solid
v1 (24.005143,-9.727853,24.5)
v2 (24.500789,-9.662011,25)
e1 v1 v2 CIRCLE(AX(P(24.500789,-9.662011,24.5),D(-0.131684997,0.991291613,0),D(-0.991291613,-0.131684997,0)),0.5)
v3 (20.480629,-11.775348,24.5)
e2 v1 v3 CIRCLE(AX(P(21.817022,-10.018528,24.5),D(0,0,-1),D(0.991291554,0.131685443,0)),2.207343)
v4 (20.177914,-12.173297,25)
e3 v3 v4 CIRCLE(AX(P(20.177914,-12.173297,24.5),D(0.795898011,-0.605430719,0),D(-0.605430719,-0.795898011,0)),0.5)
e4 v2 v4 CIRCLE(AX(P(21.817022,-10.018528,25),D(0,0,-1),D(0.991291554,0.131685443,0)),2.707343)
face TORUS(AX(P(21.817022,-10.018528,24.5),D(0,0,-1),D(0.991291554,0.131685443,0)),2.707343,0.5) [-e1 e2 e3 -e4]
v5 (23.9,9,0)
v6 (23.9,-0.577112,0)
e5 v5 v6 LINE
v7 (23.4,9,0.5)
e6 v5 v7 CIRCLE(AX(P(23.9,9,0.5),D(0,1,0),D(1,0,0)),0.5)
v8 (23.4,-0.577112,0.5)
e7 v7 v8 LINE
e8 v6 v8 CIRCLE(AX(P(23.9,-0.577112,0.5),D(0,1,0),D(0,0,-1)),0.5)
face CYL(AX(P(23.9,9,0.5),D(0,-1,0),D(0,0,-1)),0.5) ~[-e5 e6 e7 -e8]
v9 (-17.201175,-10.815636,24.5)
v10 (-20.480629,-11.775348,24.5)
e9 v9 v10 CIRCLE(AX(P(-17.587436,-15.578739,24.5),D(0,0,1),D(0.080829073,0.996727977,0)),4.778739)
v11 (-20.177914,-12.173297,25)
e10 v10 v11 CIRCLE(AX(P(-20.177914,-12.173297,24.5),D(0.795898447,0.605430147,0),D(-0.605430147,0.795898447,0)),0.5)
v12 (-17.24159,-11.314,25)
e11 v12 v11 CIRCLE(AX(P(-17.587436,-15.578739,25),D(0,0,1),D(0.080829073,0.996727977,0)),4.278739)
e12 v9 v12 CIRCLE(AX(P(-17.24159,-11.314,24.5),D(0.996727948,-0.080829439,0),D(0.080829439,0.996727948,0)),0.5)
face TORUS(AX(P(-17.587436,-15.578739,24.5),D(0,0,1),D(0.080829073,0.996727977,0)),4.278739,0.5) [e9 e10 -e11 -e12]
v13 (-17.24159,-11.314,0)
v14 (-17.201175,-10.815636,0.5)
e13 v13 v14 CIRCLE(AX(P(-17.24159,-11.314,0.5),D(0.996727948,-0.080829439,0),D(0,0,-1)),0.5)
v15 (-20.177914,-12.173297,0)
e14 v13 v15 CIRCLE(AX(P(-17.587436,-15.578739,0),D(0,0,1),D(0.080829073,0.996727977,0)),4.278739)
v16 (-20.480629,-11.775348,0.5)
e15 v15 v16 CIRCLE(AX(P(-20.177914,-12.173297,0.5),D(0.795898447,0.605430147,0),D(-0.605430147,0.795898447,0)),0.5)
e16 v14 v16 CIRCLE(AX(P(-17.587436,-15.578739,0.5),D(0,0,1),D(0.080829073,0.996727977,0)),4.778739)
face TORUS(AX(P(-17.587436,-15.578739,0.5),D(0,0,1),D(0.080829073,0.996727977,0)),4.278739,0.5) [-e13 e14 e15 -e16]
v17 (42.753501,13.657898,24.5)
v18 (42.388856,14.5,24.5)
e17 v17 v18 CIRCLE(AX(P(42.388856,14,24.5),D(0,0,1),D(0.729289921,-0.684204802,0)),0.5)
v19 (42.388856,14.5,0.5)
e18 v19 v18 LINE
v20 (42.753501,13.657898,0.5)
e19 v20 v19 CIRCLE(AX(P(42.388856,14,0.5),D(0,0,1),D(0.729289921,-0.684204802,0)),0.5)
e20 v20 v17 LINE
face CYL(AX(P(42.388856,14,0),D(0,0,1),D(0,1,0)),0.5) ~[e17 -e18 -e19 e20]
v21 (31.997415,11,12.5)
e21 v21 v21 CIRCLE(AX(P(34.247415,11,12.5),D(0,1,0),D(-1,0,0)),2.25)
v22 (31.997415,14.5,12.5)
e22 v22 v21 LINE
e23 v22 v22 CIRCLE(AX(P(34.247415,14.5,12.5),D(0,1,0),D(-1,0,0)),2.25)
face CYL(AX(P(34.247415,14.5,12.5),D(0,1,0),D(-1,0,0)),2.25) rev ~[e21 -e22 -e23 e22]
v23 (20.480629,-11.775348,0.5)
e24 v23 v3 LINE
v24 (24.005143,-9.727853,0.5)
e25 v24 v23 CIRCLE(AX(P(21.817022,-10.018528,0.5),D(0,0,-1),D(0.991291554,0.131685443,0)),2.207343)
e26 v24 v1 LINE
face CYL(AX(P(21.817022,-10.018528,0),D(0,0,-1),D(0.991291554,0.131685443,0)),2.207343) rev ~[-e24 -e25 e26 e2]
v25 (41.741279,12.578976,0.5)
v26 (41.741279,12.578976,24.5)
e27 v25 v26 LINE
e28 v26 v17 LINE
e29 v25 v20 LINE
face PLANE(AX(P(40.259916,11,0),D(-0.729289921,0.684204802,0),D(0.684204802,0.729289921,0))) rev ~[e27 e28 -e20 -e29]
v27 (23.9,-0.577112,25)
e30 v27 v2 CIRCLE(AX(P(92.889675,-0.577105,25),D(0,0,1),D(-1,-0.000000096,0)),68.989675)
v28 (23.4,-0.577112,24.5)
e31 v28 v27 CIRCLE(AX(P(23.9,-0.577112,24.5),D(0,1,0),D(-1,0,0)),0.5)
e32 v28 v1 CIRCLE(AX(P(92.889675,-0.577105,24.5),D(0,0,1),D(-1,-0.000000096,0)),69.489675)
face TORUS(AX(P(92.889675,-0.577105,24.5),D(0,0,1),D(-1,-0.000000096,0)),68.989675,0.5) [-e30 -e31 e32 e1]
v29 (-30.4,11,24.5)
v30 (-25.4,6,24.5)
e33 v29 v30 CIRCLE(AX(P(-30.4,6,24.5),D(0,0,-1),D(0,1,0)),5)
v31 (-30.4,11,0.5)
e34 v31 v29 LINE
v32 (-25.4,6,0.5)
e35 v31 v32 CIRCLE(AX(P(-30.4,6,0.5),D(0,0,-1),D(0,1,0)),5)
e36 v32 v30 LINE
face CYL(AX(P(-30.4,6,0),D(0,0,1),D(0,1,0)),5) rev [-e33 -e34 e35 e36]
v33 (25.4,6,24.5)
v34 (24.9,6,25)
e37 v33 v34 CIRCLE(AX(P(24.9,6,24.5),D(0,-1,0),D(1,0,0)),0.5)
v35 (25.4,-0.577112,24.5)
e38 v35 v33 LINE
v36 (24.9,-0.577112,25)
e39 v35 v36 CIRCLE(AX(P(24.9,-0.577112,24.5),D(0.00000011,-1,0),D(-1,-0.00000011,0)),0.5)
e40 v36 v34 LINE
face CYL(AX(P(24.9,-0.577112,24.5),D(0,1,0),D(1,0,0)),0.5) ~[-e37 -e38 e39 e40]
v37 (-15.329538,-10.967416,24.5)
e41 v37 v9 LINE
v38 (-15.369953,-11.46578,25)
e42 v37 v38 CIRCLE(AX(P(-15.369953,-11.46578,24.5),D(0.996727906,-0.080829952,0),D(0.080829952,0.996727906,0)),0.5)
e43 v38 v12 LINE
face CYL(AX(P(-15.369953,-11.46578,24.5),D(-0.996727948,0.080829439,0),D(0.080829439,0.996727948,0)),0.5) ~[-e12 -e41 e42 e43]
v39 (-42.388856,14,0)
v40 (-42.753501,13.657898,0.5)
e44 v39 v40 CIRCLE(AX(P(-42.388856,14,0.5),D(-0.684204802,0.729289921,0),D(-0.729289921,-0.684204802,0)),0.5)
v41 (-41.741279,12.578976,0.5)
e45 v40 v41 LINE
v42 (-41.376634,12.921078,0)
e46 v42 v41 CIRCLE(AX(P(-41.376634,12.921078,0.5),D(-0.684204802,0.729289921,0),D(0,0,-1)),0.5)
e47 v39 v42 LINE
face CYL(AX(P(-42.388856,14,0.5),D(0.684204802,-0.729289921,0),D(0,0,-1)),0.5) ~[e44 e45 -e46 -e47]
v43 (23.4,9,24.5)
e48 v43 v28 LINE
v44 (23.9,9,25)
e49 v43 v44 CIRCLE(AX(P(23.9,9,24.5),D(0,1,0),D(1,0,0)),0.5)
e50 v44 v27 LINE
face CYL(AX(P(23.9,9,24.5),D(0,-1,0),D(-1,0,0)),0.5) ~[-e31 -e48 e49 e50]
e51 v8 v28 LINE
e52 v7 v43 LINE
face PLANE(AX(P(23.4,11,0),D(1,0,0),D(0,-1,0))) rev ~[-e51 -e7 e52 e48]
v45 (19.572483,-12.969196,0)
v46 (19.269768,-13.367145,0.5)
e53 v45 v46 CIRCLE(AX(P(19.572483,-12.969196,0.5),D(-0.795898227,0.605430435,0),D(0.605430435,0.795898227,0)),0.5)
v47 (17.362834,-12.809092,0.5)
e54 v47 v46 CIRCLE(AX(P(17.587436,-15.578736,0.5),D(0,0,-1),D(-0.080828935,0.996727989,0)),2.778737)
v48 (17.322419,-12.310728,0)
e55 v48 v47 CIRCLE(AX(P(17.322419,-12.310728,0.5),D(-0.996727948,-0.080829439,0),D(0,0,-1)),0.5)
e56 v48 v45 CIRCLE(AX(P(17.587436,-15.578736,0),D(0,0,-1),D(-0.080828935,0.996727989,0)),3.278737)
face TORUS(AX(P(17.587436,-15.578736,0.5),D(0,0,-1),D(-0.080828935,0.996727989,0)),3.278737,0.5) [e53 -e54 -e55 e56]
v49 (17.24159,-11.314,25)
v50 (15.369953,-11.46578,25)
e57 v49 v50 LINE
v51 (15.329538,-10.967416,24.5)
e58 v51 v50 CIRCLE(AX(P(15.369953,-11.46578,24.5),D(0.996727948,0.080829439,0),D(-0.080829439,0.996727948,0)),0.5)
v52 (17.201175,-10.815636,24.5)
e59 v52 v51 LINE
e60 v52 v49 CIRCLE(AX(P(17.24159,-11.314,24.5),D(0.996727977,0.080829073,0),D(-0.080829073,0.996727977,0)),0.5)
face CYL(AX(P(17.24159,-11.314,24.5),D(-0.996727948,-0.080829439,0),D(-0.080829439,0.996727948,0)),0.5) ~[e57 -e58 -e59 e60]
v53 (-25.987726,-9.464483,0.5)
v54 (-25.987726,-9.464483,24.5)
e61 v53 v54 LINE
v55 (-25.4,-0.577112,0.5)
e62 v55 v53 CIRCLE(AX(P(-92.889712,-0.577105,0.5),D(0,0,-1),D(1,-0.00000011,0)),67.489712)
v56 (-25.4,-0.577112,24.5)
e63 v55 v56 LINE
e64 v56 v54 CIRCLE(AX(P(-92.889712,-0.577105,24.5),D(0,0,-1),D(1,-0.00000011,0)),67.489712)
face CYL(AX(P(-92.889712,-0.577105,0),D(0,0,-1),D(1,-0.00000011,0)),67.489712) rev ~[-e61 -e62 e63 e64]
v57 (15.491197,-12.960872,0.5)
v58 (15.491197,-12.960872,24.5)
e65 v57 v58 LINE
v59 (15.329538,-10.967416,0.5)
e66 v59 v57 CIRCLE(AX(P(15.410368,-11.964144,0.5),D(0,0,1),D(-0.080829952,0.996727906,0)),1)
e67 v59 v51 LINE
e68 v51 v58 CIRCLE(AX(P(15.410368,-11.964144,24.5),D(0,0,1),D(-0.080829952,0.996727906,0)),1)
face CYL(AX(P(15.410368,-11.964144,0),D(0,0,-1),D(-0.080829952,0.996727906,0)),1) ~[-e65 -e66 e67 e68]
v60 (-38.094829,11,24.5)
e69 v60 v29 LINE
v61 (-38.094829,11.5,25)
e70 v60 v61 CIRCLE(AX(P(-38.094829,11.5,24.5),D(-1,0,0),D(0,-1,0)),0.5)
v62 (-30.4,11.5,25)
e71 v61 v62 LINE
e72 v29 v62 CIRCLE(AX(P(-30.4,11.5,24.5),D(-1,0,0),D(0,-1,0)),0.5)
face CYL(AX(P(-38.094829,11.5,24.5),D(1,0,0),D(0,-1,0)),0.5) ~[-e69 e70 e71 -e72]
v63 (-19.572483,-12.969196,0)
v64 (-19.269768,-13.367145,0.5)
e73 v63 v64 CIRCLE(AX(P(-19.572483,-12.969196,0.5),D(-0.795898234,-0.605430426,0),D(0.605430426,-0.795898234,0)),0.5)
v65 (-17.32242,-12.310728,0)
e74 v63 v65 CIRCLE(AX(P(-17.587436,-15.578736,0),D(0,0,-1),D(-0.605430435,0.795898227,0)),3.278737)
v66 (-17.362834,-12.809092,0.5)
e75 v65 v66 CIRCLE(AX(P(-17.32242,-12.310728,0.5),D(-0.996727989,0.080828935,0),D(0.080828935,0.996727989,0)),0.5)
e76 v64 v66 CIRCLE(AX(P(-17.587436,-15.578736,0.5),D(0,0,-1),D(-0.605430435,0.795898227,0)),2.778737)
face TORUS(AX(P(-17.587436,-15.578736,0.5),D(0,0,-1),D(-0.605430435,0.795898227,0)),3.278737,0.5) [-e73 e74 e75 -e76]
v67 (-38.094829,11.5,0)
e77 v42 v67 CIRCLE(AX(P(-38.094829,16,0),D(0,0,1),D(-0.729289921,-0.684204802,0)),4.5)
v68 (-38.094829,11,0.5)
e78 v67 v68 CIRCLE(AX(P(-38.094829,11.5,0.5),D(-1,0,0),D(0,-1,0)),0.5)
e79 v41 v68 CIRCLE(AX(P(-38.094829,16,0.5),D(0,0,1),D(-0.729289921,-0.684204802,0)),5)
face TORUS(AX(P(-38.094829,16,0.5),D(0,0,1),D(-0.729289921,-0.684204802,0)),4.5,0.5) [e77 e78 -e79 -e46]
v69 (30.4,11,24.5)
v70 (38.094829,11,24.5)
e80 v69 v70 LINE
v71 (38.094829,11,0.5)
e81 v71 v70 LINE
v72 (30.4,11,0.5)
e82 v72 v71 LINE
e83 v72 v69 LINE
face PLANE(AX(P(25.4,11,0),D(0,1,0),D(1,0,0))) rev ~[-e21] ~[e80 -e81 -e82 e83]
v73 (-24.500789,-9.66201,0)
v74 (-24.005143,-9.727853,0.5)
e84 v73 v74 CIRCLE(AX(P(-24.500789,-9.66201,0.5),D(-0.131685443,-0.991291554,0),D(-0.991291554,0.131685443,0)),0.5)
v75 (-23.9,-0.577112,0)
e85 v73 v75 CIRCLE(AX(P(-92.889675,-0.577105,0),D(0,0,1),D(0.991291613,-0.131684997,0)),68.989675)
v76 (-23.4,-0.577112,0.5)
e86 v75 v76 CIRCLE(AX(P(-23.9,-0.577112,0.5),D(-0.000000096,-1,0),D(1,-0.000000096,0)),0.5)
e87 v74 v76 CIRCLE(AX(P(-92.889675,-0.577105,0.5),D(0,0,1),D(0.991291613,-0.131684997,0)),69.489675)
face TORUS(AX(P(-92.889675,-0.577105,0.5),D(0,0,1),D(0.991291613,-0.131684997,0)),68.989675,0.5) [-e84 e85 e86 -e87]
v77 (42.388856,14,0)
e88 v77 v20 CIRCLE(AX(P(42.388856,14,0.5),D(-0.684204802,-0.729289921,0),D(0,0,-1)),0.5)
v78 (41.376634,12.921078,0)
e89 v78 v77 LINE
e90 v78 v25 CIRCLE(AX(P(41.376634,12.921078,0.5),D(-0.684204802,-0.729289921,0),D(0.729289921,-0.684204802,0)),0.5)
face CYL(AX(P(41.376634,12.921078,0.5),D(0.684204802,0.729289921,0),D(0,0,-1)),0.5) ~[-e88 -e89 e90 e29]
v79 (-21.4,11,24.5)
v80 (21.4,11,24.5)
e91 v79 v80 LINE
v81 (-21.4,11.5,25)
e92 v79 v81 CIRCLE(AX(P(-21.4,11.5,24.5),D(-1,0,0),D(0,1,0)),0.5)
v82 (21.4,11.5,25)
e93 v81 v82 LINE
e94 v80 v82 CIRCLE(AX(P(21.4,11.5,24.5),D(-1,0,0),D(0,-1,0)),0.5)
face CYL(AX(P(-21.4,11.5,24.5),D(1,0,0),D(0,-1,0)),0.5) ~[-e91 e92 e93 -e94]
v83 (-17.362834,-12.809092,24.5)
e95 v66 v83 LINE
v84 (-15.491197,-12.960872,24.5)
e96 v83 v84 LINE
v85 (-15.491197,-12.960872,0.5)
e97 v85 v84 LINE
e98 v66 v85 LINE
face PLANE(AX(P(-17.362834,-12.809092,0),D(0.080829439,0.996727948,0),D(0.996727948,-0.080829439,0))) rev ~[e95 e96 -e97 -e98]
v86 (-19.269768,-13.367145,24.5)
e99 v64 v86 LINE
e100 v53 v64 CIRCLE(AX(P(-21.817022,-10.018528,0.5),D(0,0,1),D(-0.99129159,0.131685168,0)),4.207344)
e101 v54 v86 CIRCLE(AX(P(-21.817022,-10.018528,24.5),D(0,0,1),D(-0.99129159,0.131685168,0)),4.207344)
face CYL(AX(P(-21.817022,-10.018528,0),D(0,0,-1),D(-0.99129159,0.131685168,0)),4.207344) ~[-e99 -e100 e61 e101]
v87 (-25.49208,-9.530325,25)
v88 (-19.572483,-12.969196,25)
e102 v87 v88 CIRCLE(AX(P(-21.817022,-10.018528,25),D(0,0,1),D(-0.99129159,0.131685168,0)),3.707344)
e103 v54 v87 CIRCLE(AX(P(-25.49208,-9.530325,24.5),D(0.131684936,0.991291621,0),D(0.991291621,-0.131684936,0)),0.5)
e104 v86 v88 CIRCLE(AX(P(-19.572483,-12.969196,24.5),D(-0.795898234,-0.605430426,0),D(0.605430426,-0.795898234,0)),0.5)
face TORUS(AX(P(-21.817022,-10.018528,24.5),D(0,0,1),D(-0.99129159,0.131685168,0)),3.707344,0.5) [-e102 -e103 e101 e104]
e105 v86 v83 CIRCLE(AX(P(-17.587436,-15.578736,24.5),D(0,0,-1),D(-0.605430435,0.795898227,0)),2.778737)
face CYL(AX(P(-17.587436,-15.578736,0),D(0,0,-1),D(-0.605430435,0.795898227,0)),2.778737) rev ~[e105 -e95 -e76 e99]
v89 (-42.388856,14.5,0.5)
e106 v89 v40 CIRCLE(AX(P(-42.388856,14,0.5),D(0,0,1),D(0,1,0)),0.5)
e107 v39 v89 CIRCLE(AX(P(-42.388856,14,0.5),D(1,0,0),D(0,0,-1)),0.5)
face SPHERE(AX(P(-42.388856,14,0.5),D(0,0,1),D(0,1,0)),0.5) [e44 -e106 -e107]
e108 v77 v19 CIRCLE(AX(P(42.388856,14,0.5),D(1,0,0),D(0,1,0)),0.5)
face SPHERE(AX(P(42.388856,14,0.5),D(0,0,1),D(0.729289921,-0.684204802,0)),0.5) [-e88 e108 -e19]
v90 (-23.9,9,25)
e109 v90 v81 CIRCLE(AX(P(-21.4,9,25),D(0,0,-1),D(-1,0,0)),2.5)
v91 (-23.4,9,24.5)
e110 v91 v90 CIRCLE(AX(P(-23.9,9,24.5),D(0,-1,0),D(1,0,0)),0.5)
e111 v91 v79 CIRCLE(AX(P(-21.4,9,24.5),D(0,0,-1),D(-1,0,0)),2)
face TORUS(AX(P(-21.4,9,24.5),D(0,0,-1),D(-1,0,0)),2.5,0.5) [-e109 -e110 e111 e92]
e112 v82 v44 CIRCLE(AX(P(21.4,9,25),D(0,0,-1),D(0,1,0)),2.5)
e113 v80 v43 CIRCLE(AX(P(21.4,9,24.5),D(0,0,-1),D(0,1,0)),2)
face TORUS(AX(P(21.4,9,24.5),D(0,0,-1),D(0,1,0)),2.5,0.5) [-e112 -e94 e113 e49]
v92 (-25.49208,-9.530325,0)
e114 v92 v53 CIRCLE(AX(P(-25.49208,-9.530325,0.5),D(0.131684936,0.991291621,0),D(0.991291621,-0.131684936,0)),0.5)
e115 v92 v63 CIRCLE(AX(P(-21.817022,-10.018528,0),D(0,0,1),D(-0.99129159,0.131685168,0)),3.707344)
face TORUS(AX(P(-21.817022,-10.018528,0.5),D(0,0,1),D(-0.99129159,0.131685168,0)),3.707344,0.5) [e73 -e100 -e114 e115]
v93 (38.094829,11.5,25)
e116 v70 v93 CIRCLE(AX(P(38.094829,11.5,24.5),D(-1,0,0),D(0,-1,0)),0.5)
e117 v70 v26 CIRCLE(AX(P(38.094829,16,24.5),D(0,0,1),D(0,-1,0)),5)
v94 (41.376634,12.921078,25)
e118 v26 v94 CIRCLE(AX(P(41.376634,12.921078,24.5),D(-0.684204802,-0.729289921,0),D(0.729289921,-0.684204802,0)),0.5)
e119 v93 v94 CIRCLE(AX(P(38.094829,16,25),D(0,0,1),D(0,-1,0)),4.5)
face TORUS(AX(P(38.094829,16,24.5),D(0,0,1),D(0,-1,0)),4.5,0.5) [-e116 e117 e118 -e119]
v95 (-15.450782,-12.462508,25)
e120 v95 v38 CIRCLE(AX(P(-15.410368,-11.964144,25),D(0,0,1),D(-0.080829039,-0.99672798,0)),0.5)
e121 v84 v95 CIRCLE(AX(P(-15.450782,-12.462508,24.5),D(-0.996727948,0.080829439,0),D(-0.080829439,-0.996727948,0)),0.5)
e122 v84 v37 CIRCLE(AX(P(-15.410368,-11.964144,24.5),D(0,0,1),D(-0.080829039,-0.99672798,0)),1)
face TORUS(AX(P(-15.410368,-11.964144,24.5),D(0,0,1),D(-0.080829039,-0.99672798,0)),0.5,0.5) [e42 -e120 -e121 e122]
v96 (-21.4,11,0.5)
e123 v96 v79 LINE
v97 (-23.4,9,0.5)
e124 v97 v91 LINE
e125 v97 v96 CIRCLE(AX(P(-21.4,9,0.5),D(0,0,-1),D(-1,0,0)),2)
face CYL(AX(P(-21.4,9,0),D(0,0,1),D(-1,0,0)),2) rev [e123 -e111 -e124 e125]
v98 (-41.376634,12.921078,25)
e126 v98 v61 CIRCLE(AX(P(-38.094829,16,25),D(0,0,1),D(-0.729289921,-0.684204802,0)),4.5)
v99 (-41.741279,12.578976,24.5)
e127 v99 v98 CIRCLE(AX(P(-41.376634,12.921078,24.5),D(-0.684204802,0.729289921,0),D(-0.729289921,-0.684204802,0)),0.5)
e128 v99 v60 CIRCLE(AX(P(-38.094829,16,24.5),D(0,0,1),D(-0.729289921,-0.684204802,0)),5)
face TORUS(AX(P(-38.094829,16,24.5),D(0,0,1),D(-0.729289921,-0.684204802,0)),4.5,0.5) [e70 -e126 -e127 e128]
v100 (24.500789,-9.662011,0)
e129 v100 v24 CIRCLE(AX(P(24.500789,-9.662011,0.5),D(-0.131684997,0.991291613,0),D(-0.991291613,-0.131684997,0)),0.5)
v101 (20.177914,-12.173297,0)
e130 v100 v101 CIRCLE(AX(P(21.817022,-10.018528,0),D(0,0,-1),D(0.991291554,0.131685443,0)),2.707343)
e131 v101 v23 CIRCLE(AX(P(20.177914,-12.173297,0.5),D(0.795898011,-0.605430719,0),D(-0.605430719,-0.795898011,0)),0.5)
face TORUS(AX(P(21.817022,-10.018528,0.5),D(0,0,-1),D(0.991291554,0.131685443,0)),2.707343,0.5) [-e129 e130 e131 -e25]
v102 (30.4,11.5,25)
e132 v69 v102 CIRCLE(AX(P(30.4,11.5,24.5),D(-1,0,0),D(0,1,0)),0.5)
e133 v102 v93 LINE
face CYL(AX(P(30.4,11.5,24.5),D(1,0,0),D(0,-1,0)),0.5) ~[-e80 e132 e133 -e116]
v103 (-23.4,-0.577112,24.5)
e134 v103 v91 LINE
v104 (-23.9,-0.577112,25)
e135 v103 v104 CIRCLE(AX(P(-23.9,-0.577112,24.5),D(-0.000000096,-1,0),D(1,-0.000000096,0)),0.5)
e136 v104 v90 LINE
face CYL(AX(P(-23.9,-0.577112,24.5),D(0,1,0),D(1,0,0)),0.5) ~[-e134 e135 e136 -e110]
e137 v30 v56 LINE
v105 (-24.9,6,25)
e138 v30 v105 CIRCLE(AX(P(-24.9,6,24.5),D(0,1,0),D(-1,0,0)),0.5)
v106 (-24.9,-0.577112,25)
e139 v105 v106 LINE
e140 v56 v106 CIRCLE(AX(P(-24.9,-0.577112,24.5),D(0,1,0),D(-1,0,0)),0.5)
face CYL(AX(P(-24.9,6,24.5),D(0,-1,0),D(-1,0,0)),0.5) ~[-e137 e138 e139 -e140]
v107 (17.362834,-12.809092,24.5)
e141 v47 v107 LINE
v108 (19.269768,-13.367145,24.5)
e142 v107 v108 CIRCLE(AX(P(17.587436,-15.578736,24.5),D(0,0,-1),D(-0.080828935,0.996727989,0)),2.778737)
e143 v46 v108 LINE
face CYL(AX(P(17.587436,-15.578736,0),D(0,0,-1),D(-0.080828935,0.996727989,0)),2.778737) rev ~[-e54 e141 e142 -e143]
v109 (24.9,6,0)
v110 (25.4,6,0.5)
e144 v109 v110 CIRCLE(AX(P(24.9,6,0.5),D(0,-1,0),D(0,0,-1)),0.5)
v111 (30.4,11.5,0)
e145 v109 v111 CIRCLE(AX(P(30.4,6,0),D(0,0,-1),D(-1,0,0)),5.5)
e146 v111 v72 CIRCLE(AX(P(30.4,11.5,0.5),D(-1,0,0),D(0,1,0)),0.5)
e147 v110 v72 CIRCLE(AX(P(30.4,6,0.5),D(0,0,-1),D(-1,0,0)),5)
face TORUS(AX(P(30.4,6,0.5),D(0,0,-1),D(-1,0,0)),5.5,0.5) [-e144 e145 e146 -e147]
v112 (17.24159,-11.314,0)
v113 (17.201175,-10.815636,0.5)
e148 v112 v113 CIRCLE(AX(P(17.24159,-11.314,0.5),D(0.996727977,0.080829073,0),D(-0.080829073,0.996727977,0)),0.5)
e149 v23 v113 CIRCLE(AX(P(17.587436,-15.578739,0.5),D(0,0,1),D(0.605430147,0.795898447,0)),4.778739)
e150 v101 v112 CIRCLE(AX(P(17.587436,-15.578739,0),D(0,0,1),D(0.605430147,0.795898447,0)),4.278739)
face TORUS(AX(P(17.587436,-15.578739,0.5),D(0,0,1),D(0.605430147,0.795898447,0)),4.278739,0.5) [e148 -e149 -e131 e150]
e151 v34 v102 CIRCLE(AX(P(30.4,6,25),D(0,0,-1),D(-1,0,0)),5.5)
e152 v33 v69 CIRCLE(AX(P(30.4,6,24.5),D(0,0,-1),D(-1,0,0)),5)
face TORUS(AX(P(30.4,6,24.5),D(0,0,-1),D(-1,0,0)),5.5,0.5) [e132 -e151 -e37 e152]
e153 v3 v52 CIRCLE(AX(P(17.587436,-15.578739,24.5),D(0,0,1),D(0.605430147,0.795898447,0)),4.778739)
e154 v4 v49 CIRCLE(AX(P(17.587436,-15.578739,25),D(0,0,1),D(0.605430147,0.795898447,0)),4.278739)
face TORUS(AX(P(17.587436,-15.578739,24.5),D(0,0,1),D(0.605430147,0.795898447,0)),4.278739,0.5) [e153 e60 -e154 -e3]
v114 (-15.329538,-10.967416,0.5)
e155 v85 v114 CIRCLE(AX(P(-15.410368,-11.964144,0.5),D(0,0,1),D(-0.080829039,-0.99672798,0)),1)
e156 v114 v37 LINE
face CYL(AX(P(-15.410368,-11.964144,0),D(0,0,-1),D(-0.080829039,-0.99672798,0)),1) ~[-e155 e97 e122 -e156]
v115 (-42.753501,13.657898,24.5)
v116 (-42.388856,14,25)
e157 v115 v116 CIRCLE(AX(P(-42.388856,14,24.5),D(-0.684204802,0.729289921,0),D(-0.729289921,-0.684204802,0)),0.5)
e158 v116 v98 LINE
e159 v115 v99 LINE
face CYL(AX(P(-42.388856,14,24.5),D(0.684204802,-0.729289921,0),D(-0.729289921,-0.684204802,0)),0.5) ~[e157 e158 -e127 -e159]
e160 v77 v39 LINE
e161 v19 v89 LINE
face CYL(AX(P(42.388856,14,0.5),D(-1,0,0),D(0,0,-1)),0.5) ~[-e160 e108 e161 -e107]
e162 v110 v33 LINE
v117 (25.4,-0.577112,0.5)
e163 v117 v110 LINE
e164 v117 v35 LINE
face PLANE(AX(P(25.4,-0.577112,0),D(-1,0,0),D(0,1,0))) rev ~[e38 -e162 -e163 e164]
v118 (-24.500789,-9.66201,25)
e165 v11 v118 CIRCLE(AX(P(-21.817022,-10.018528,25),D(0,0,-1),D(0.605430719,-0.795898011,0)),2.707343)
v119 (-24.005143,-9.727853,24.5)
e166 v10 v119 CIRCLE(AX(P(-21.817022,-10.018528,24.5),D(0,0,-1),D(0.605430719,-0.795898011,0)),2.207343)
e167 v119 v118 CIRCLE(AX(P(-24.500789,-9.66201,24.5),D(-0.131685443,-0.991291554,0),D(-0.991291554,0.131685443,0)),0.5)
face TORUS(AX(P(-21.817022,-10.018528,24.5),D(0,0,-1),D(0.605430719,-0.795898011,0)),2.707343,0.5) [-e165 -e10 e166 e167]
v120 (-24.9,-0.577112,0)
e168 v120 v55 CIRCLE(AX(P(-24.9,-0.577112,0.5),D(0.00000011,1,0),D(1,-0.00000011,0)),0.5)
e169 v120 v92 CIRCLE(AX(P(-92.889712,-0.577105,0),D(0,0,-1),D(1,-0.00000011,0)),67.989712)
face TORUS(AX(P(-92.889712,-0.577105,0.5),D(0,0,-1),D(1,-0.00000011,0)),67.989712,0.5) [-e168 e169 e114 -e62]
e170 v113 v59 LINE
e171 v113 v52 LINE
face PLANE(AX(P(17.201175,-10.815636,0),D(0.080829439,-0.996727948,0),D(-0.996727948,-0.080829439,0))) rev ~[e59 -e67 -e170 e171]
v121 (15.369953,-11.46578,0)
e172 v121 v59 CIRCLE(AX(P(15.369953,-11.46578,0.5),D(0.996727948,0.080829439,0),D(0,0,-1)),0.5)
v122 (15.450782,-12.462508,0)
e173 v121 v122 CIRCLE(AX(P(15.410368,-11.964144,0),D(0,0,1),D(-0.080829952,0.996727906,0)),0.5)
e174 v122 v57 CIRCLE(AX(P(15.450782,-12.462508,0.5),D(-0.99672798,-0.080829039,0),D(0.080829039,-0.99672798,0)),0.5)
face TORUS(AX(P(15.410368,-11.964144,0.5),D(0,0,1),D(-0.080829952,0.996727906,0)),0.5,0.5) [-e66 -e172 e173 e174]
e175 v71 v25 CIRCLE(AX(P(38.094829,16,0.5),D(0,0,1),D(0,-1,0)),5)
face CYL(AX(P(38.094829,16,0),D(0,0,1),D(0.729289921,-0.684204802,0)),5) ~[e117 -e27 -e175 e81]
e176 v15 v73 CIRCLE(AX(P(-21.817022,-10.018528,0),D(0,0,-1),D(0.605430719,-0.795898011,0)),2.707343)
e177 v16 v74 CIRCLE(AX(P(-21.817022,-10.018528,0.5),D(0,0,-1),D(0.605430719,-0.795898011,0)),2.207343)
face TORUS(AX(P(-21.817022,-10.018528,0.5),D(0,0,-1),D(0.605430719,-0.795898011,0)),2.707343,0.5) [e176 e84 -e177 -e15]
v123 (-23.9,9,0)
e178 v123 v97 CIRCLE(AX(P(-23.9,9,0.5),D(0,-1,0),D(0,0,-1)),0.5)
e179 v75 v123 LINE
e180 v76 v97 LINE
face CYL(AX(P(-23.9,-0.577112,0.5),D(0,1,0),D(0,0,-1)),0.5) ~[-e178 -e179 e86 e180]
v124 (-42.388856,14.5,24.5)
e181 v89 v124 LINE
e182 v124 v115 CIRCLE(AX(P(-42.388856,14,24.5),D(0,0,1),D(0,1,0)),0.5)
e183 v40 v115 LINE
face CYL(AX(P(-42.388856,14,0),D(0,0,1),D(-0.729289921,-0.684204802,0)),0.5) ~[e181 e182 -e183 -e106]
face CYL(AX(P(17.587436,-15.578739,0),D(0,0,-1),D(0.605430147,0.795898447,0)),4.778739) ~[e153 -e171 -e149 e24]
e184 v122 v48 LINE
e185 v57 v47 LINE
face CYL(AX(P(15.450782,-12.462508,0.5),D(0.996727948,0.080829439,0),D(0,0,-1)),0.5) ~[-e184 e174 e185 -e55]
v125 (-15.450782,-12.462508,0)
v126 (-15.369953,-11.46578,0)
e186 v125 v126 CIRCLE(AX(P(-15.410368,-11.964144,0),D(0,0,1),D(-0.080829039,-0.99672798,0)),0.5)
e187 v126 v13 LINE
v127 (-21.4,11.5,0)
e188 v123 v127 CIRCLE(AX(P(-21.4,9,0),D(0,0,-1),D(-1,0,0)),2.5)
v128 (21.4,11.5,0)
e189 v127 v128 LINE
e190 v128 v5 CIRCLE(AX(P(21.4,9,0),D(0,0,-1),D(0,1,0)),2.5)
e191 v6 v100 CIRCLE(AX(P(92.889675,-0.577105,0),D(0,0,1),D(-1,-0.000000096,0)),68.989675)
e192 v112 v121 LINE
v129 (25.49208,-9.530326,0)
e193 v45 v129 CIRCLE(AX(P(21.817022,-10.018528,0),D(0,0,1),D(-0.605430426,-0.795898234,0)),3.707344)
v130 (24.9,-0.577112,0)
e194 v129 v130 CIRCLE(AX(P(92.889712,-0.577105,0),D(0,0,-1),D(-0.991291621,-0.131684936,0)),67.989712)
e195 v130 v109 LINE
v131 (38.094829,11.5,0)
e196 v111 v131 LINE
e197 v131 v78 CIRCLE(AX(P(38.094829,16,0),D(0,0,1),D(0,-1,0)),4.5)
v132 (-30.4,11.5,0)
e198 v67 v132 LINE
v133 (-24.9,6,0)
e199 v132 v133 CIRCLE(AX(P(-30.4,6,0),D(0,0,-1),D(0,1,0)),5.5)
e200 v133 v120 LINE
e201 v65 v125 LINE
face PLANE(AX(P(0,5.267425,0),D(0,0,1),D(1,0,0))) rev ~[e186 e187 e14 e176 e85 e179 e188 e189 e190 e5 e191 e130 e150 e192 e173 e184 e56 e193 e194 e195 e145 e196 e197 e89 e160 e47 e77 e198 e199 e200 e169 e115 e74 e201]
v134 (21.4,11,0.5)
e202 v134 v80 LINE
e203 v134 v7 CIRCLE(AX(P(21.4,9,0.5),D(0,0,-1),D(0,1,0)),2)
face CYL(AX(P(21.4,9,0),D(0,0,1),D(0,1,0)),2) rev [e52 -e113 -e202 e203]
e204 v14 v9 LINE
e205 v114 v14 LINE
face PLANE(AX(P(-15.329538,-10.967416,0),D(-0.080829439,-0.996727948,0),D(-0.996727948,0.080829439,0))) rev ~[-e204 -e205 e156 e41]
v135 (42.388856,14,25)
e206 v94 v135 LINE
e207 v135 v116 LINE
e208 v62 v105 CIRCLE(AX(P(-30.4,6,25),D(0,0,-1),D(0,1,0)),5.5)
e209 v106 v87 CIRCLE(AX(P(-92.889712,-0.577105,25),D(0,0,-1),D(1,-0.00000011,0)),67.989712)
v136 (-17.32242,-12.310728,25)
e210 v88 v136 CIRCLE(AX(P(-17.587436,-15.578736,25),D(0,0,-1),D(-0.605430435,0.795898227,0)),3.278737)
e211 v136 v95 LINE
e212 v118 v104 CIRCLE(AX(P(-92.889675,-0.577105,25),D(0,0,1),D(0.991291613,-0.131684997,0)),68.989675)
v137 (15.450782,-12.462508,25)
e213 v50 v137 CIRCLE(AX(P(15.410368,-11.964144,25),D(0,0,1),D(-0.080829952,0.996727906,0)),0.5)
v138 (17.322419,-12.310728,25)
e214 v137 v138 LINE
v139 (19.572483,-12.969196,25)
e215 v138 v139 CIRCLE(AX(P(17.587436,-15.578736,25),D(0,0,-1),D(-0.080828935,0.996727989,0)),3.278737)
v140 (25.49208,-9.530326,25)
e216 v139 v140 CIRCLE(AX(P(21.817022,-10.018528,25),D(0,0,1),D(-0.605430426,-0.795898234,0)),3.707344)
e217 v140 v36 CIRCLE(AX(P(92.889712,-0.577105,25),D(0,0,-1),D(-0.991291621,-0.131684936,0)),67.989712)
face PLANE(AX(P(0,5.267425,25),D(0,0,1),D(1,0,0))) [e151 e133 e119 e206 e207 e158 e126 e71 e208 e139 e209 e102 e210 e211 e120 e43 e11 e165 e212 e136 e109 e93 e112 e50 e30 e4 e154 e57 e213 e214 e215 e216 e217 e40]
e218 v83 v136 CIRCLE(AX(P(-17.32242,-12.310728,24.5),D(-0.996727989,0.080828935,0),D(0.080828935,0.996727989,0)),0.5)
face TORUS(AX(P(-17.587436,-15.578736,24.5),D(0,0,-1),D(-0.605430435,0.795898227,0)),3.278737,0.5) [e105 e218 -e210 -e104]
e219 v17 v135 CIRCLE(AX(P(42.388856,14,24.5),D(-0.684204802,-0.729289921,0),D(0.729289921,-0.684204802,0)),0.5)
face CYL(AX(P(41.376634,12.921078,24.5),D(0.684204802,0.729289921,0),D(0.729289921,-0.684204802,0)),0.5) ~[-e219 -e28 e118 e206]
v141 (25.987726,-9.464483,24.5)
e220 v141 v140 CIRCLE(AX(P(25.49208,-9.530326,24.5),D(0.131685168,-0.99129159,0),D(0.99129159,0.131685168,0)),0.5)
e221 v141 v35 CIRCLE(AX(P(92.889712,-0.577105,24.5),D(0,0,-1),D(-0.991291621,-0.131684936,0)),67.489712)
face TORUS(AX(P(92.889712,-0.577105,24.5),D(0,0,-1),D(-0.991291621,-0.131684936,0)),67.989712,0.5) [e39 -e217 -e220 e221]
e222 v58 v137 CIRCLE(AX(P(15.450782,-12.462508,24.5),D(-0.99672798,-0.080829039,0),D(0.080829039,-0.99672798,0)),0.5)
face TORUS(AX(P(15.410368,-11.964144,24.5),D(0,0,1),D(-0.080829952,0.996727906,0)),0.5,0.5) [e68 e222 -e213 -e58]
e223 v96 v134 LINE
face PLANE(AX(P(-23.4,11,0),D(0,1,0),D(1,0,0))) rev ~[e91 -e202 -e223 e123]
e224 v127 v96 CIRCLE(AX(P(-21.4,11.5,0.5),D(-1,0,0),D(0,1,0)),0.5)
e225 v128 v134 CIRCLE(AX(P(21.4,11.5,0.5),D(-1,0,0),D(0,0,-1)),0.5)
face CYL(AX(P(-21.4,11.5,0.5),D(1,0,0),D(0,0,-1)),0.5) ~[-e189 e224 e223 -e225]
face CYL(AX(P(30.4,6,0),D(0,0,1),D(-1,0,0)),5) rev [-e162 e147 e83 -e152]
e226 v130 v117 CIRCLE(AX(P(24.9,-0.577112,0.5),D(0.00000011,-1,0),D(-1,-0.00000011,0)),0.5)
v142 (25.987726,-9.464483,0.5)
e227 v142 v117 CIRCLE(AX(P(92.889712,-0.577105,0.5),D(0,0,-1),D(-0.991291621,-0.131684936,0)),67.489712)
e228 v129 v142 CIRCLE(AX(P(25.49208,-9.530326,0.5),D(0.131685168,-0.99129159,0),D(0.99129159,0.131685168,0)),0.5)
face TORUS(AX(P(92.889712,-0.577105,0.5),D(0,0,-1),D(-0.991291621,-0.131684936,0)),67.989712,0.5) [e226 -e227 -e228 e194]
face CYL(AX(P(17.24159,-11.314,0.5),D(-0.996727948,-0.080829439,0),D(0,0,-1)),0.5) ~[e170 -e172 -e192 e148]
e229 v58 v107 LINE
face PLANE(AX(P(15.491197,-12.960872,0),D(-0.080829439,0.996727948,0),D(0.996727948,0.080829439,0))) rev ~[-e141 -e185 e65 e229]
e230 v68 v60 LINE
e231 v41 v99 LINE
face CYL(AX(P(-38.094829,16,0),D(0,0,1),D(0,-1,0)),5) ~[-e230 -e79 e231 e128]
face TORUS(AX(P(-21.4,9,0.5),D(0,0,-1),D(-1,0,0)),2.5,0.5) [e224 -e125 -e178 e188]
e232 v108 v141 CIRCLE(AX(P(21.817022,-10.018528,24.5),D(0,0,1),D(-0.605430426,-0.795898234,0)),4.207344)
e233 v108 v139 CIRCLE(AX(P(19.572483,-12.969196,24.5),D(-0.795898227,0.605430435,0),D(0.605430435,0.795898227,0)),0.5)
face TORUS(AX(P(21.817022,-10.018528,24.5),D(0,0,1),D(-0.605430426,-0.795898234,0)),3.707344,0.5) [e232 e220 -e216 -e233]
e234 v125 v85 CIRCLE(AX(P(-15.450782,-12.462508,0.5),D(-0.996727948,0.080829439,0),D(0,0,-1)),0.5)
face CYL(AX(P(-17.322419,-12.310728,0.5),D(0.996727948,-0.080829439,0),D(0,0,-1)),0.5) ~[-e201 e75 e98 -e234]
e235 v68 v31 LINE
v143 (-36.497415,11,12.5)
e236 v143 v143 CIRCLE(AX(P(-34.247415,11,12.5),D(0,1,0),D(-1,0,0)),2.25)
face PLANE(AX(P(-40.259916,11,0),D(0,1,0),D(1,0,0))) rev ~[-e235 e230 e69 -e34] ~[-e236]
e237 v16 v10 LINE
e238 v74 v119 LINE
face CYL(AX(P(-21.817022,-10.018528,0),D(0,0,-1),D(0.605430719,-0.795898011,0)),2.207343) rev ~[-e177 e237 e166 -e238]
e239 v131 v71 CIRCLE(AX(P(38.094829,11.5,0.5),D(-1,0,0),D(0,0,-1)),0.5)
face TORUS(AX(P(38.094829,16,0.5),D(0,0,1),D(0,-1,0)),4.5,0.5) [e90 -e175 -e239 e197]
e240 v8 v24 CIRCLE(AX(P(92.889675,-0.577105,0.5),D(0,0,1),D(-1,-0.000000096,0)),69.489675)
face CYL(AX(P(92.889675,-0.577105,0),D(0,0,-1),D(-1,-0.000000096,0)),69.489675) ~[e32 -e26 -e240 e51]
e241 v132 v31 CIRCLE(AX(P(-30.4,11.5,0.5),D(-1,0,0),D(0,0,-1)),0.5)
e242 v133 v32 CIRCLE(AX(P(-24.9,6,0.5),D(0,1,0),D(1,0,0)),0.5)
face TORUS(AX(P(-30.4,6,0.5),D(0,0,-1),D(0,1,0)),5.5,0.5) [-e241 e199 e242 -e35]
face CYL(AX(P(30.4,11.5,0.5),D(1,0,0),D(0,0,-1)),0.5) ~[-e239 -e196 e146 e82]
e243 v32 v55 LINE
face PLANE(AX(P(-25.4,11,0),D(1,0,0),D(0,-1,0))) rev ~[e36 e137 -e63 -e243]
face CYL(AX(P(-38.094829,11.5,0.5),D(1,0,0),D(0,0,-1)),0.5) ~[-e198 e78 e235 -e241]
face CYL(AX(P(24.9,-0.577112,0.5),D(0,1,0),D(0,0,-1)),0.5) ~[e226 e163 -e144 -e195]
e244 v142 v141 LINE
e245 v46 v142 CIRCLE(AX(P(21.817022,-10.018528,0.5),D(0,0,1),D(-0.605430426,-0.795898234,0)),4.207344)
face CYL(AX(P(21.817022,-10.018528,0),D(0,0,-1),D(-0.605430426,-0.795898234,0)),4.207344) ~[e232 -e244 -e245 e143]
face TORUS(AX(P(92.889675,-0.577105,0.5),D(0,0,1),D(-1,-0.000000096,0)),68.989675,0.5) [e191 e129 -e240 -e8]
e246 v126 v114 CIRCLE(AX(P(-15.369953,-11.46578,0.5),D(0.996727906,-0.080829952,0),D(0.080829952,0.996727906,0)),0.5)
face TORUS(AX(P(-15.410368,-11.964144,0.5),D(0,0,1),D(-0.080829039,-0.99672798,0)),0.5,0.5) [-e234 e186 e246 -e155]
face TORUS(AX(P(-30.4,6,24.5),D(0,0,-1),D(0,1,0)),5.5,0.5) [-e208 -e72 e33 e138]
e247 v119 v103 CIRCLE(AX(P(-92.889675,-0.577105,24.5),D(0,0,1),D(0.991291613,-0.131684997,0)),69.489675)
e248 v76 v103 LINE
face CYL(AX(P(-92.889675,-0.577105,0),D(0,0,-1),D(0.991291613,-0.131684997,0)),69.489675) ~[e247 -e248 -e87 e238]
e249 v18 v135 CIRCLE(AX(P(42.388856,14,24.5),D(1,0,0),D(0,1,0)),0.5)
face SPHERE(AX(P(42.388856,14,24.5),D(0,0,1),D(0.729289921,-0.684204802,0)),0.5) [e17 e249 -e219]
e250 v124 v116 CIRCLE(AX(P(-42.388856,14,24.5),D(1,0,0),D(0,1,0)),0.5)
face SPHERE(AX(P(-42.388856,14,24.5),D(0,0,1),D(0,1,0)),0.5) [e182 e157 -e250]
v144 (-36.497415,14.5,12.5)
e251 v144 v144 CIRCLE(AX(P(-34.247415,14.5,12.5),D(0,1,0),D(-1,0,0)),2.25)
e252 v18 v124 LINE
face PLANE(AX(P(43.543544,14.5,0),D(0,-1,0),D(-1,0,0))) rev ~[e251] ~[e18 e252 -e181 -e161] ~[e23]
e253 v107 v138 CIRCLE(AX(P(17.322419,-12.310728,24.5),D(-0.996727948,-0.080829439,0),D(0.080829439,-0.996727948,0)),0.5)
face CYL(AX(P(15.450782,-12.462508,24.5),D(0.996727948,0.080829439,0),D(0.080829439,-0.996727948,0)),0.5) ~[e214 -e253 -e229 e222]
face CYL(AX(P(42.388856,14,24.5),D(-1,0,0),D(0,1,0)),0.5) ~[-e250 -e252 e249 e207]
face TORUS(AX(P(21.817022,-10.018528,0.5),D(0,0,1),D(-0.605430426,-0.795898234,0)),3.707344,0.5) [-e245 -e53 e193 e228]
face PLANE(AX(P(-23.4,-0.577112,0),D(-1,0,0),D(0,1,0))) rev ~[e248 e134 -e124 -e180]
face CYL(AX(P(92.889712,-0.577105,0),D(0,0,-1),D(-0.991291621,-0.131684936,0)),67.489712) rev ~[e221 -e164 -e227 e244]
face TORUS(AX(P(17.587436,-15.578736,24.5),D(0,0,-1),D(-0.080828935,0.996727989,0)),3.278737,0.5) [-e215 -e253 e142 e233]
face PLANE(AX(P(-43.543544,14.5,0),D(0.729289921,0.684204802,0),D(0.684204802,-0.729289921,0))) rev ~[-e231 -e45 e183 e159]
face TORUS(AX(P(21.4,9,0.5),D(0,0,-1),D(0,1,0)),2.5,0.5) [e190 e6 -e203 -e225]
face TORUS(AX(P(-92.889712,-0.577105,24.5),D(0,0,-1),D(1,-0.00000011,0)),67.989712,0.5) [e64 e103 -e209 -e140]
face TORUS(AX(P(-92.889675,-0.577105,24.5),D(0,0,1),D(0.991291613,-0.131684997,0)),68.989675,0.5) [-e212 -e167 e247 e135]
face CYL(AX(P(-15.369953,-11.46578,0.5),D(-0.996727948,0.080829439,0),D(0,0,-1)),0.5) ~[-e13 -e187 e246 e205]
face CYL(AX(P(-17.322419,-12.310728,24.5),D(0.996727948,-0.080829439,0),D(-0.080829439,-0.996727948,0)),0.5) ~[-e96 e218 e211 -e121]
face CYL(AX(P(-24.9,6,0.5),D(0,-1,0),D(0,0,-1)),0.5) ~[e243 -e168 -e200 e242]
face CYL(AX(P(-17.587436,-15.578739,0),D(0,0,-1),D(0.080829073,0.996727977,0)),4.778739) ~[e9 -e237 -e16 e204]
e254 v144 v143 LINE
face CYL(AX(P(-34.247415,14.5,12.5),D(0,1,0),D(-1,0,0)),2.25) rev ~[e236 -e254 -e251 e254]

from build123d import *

# Parameters (mm, degrees)
F1_DEPTH = 25
F2_R     = 5
F3_R     = 2
F4_R     = 5
F5_R     = 0.5
F6_R     = 2.25
F7_DEPTH = 28.726871
F8_R     = 0.5


with BuildPart() as f1:
    # F0 (on Top) → F1 (new body)
    with BuildSketch(Plane.XY):
        with BuildLine():
            Line((0, 14.5), (-43.543544, 14.5))
            Line((-43.543544, 14.5), (-40.259916, 11))
            Line((-40.259916, 11), (-25.4, 11))
            Line((-25.4, 11), (-25.4, -0.577112))
            ThreePointArc((-25.4, -0.577112), (-25.547092, -5.030503), (-25.987726, -9.464483))
            ThreePointArc((-25.987726, -9.464483), (-23.930453, -13.656542), (-19.269768, -13.367145))
            ThreePointArc((-19.269768, -13.367145), (-18.367884, -12.911851), (-17.362834, -12.809092))
            Line((-17.362834, -12.809092), (-15.491197, -12.960872))
            ThreePointArc((-15.491197, -12.960872), (-14.41364, -12.044974), (-15.329538, -10.967416))
            Line((-15.329538, -10.967416), (-17.201175, -10.815636))
            ThreePointArc((-17.201175, -10.815636), (-18.929613, -10.992356), (-20.480629, -11.775348))
            ThreePointArc((-20.480629, -11.775348), (-22.925814, -11.927178), (-24.005143, -9.727853))
            ThreePointArc((-24.005143, -9.727853), (-23.551451, -5.162476), (-23.4, -0.577112))
            Line((-23.4, -0.577112), (-23.4, 11))
            Line((-23.4, 11), (0, 11))
            Line((0, 11), (23.4, 11))
            Line((23.4, 11), (23.4, -0.577112))
            ThreePointArc((23.4, -0.577112), (23.551451, -5.162476), (24.005143, -9.727853))
            ThreePointArc((24.005143, -9.727853), (22.925814, -11.927178), (20.480629, -11.775348))
            ThreePointArc((20.480629, -11.775348), (18.929613, -10.992356), (17.201175, -10.815636))
            Line((17.201175, -10.815636), (15.329538, -10.967416))
            ThreePointArc((15.329538, -10.967416), (14.41364, -12.044974), (15.491197, -12.960872))
            Line((15.491197, -12.960872), (17.362834, -12.809092))
            ThreePointArc((17.362834, -12.809092), (18.367884, -12.911851), (19.269768, -13.367145))
            ThreePointArc((19.269768, -13.367145), (23.930453, -13.656542), (25.987726, -9.464483))
            ThreePointArc((25.987726, -9.464483), (25.547092, -5.030503), (25.4, -0.577112))
            Line((25.4, -0.577112), (25.4, 11))
            Line((25.4, 11), (40.259916, 11))
            Line((40.259916, 11), (43.543544, 14.5))
            Line((43.543544, 14.5), (0, 14.5))
        make_face()
    extrude(amount=F1_DEPTH)

    # F2
    f2_edges = [f1.edges().sort_by_distance(p)[0] for p in [
        (-25.4, 11, 12.5),
        (25.4, 11, 12.5),
    ]]
    fillet(f2_edges, radius=F2_R)

    # F3
    f3_edges = [f1.edges().sort_by_distance(p)[0] for p in [
        (23.4, 11, 12.5),
        (-23.4, 11, 12.5),
    ]]
    fillet(f3_edges, radius=F3_R)

    # F4
    f4_edges = [f1.edges().sort_by_distance(p)[0] for p in [
        (-40.259916, 11, 12.5),
        (40.259916, 11, 12.5),
    ]]
    fillet(f4_edges, radius=F4_R)

    # F5
    f5_edges = [f1.edges().sort_by_distance(p)[0] for p in [
        (-43.543544, 14.5, 12.5),
        (43.543544, 14.5, 12.5),
    ]]
    fillet(f5_edges, radius=F5_R)

    # F6 (on face) → F7 (cut, through all)
    with BuildSketch(Plane(origin=(0, 14.5, 0), x_dir=(-1, 0, 0), z_dir=(0, 1, 0))):
        with Locations((-34.247415, 12.5)):
            Circle(F6_R)
        with Locations((34.247415, 12.5)):
            Circle(F6_R)
    extrude(amount=-F7_DEPTH, mode=Mode.SUBTRACT)

    # F8
    f8_edges = [f1.edges().sort_by_distance(p)[0] for p in [
        (-25.547092, -5.030503, 0),
        (-25.4, 2.711444, 25),
    ]]
    fillet(f8_edges, radius=F8_R)


solid = f1.part
